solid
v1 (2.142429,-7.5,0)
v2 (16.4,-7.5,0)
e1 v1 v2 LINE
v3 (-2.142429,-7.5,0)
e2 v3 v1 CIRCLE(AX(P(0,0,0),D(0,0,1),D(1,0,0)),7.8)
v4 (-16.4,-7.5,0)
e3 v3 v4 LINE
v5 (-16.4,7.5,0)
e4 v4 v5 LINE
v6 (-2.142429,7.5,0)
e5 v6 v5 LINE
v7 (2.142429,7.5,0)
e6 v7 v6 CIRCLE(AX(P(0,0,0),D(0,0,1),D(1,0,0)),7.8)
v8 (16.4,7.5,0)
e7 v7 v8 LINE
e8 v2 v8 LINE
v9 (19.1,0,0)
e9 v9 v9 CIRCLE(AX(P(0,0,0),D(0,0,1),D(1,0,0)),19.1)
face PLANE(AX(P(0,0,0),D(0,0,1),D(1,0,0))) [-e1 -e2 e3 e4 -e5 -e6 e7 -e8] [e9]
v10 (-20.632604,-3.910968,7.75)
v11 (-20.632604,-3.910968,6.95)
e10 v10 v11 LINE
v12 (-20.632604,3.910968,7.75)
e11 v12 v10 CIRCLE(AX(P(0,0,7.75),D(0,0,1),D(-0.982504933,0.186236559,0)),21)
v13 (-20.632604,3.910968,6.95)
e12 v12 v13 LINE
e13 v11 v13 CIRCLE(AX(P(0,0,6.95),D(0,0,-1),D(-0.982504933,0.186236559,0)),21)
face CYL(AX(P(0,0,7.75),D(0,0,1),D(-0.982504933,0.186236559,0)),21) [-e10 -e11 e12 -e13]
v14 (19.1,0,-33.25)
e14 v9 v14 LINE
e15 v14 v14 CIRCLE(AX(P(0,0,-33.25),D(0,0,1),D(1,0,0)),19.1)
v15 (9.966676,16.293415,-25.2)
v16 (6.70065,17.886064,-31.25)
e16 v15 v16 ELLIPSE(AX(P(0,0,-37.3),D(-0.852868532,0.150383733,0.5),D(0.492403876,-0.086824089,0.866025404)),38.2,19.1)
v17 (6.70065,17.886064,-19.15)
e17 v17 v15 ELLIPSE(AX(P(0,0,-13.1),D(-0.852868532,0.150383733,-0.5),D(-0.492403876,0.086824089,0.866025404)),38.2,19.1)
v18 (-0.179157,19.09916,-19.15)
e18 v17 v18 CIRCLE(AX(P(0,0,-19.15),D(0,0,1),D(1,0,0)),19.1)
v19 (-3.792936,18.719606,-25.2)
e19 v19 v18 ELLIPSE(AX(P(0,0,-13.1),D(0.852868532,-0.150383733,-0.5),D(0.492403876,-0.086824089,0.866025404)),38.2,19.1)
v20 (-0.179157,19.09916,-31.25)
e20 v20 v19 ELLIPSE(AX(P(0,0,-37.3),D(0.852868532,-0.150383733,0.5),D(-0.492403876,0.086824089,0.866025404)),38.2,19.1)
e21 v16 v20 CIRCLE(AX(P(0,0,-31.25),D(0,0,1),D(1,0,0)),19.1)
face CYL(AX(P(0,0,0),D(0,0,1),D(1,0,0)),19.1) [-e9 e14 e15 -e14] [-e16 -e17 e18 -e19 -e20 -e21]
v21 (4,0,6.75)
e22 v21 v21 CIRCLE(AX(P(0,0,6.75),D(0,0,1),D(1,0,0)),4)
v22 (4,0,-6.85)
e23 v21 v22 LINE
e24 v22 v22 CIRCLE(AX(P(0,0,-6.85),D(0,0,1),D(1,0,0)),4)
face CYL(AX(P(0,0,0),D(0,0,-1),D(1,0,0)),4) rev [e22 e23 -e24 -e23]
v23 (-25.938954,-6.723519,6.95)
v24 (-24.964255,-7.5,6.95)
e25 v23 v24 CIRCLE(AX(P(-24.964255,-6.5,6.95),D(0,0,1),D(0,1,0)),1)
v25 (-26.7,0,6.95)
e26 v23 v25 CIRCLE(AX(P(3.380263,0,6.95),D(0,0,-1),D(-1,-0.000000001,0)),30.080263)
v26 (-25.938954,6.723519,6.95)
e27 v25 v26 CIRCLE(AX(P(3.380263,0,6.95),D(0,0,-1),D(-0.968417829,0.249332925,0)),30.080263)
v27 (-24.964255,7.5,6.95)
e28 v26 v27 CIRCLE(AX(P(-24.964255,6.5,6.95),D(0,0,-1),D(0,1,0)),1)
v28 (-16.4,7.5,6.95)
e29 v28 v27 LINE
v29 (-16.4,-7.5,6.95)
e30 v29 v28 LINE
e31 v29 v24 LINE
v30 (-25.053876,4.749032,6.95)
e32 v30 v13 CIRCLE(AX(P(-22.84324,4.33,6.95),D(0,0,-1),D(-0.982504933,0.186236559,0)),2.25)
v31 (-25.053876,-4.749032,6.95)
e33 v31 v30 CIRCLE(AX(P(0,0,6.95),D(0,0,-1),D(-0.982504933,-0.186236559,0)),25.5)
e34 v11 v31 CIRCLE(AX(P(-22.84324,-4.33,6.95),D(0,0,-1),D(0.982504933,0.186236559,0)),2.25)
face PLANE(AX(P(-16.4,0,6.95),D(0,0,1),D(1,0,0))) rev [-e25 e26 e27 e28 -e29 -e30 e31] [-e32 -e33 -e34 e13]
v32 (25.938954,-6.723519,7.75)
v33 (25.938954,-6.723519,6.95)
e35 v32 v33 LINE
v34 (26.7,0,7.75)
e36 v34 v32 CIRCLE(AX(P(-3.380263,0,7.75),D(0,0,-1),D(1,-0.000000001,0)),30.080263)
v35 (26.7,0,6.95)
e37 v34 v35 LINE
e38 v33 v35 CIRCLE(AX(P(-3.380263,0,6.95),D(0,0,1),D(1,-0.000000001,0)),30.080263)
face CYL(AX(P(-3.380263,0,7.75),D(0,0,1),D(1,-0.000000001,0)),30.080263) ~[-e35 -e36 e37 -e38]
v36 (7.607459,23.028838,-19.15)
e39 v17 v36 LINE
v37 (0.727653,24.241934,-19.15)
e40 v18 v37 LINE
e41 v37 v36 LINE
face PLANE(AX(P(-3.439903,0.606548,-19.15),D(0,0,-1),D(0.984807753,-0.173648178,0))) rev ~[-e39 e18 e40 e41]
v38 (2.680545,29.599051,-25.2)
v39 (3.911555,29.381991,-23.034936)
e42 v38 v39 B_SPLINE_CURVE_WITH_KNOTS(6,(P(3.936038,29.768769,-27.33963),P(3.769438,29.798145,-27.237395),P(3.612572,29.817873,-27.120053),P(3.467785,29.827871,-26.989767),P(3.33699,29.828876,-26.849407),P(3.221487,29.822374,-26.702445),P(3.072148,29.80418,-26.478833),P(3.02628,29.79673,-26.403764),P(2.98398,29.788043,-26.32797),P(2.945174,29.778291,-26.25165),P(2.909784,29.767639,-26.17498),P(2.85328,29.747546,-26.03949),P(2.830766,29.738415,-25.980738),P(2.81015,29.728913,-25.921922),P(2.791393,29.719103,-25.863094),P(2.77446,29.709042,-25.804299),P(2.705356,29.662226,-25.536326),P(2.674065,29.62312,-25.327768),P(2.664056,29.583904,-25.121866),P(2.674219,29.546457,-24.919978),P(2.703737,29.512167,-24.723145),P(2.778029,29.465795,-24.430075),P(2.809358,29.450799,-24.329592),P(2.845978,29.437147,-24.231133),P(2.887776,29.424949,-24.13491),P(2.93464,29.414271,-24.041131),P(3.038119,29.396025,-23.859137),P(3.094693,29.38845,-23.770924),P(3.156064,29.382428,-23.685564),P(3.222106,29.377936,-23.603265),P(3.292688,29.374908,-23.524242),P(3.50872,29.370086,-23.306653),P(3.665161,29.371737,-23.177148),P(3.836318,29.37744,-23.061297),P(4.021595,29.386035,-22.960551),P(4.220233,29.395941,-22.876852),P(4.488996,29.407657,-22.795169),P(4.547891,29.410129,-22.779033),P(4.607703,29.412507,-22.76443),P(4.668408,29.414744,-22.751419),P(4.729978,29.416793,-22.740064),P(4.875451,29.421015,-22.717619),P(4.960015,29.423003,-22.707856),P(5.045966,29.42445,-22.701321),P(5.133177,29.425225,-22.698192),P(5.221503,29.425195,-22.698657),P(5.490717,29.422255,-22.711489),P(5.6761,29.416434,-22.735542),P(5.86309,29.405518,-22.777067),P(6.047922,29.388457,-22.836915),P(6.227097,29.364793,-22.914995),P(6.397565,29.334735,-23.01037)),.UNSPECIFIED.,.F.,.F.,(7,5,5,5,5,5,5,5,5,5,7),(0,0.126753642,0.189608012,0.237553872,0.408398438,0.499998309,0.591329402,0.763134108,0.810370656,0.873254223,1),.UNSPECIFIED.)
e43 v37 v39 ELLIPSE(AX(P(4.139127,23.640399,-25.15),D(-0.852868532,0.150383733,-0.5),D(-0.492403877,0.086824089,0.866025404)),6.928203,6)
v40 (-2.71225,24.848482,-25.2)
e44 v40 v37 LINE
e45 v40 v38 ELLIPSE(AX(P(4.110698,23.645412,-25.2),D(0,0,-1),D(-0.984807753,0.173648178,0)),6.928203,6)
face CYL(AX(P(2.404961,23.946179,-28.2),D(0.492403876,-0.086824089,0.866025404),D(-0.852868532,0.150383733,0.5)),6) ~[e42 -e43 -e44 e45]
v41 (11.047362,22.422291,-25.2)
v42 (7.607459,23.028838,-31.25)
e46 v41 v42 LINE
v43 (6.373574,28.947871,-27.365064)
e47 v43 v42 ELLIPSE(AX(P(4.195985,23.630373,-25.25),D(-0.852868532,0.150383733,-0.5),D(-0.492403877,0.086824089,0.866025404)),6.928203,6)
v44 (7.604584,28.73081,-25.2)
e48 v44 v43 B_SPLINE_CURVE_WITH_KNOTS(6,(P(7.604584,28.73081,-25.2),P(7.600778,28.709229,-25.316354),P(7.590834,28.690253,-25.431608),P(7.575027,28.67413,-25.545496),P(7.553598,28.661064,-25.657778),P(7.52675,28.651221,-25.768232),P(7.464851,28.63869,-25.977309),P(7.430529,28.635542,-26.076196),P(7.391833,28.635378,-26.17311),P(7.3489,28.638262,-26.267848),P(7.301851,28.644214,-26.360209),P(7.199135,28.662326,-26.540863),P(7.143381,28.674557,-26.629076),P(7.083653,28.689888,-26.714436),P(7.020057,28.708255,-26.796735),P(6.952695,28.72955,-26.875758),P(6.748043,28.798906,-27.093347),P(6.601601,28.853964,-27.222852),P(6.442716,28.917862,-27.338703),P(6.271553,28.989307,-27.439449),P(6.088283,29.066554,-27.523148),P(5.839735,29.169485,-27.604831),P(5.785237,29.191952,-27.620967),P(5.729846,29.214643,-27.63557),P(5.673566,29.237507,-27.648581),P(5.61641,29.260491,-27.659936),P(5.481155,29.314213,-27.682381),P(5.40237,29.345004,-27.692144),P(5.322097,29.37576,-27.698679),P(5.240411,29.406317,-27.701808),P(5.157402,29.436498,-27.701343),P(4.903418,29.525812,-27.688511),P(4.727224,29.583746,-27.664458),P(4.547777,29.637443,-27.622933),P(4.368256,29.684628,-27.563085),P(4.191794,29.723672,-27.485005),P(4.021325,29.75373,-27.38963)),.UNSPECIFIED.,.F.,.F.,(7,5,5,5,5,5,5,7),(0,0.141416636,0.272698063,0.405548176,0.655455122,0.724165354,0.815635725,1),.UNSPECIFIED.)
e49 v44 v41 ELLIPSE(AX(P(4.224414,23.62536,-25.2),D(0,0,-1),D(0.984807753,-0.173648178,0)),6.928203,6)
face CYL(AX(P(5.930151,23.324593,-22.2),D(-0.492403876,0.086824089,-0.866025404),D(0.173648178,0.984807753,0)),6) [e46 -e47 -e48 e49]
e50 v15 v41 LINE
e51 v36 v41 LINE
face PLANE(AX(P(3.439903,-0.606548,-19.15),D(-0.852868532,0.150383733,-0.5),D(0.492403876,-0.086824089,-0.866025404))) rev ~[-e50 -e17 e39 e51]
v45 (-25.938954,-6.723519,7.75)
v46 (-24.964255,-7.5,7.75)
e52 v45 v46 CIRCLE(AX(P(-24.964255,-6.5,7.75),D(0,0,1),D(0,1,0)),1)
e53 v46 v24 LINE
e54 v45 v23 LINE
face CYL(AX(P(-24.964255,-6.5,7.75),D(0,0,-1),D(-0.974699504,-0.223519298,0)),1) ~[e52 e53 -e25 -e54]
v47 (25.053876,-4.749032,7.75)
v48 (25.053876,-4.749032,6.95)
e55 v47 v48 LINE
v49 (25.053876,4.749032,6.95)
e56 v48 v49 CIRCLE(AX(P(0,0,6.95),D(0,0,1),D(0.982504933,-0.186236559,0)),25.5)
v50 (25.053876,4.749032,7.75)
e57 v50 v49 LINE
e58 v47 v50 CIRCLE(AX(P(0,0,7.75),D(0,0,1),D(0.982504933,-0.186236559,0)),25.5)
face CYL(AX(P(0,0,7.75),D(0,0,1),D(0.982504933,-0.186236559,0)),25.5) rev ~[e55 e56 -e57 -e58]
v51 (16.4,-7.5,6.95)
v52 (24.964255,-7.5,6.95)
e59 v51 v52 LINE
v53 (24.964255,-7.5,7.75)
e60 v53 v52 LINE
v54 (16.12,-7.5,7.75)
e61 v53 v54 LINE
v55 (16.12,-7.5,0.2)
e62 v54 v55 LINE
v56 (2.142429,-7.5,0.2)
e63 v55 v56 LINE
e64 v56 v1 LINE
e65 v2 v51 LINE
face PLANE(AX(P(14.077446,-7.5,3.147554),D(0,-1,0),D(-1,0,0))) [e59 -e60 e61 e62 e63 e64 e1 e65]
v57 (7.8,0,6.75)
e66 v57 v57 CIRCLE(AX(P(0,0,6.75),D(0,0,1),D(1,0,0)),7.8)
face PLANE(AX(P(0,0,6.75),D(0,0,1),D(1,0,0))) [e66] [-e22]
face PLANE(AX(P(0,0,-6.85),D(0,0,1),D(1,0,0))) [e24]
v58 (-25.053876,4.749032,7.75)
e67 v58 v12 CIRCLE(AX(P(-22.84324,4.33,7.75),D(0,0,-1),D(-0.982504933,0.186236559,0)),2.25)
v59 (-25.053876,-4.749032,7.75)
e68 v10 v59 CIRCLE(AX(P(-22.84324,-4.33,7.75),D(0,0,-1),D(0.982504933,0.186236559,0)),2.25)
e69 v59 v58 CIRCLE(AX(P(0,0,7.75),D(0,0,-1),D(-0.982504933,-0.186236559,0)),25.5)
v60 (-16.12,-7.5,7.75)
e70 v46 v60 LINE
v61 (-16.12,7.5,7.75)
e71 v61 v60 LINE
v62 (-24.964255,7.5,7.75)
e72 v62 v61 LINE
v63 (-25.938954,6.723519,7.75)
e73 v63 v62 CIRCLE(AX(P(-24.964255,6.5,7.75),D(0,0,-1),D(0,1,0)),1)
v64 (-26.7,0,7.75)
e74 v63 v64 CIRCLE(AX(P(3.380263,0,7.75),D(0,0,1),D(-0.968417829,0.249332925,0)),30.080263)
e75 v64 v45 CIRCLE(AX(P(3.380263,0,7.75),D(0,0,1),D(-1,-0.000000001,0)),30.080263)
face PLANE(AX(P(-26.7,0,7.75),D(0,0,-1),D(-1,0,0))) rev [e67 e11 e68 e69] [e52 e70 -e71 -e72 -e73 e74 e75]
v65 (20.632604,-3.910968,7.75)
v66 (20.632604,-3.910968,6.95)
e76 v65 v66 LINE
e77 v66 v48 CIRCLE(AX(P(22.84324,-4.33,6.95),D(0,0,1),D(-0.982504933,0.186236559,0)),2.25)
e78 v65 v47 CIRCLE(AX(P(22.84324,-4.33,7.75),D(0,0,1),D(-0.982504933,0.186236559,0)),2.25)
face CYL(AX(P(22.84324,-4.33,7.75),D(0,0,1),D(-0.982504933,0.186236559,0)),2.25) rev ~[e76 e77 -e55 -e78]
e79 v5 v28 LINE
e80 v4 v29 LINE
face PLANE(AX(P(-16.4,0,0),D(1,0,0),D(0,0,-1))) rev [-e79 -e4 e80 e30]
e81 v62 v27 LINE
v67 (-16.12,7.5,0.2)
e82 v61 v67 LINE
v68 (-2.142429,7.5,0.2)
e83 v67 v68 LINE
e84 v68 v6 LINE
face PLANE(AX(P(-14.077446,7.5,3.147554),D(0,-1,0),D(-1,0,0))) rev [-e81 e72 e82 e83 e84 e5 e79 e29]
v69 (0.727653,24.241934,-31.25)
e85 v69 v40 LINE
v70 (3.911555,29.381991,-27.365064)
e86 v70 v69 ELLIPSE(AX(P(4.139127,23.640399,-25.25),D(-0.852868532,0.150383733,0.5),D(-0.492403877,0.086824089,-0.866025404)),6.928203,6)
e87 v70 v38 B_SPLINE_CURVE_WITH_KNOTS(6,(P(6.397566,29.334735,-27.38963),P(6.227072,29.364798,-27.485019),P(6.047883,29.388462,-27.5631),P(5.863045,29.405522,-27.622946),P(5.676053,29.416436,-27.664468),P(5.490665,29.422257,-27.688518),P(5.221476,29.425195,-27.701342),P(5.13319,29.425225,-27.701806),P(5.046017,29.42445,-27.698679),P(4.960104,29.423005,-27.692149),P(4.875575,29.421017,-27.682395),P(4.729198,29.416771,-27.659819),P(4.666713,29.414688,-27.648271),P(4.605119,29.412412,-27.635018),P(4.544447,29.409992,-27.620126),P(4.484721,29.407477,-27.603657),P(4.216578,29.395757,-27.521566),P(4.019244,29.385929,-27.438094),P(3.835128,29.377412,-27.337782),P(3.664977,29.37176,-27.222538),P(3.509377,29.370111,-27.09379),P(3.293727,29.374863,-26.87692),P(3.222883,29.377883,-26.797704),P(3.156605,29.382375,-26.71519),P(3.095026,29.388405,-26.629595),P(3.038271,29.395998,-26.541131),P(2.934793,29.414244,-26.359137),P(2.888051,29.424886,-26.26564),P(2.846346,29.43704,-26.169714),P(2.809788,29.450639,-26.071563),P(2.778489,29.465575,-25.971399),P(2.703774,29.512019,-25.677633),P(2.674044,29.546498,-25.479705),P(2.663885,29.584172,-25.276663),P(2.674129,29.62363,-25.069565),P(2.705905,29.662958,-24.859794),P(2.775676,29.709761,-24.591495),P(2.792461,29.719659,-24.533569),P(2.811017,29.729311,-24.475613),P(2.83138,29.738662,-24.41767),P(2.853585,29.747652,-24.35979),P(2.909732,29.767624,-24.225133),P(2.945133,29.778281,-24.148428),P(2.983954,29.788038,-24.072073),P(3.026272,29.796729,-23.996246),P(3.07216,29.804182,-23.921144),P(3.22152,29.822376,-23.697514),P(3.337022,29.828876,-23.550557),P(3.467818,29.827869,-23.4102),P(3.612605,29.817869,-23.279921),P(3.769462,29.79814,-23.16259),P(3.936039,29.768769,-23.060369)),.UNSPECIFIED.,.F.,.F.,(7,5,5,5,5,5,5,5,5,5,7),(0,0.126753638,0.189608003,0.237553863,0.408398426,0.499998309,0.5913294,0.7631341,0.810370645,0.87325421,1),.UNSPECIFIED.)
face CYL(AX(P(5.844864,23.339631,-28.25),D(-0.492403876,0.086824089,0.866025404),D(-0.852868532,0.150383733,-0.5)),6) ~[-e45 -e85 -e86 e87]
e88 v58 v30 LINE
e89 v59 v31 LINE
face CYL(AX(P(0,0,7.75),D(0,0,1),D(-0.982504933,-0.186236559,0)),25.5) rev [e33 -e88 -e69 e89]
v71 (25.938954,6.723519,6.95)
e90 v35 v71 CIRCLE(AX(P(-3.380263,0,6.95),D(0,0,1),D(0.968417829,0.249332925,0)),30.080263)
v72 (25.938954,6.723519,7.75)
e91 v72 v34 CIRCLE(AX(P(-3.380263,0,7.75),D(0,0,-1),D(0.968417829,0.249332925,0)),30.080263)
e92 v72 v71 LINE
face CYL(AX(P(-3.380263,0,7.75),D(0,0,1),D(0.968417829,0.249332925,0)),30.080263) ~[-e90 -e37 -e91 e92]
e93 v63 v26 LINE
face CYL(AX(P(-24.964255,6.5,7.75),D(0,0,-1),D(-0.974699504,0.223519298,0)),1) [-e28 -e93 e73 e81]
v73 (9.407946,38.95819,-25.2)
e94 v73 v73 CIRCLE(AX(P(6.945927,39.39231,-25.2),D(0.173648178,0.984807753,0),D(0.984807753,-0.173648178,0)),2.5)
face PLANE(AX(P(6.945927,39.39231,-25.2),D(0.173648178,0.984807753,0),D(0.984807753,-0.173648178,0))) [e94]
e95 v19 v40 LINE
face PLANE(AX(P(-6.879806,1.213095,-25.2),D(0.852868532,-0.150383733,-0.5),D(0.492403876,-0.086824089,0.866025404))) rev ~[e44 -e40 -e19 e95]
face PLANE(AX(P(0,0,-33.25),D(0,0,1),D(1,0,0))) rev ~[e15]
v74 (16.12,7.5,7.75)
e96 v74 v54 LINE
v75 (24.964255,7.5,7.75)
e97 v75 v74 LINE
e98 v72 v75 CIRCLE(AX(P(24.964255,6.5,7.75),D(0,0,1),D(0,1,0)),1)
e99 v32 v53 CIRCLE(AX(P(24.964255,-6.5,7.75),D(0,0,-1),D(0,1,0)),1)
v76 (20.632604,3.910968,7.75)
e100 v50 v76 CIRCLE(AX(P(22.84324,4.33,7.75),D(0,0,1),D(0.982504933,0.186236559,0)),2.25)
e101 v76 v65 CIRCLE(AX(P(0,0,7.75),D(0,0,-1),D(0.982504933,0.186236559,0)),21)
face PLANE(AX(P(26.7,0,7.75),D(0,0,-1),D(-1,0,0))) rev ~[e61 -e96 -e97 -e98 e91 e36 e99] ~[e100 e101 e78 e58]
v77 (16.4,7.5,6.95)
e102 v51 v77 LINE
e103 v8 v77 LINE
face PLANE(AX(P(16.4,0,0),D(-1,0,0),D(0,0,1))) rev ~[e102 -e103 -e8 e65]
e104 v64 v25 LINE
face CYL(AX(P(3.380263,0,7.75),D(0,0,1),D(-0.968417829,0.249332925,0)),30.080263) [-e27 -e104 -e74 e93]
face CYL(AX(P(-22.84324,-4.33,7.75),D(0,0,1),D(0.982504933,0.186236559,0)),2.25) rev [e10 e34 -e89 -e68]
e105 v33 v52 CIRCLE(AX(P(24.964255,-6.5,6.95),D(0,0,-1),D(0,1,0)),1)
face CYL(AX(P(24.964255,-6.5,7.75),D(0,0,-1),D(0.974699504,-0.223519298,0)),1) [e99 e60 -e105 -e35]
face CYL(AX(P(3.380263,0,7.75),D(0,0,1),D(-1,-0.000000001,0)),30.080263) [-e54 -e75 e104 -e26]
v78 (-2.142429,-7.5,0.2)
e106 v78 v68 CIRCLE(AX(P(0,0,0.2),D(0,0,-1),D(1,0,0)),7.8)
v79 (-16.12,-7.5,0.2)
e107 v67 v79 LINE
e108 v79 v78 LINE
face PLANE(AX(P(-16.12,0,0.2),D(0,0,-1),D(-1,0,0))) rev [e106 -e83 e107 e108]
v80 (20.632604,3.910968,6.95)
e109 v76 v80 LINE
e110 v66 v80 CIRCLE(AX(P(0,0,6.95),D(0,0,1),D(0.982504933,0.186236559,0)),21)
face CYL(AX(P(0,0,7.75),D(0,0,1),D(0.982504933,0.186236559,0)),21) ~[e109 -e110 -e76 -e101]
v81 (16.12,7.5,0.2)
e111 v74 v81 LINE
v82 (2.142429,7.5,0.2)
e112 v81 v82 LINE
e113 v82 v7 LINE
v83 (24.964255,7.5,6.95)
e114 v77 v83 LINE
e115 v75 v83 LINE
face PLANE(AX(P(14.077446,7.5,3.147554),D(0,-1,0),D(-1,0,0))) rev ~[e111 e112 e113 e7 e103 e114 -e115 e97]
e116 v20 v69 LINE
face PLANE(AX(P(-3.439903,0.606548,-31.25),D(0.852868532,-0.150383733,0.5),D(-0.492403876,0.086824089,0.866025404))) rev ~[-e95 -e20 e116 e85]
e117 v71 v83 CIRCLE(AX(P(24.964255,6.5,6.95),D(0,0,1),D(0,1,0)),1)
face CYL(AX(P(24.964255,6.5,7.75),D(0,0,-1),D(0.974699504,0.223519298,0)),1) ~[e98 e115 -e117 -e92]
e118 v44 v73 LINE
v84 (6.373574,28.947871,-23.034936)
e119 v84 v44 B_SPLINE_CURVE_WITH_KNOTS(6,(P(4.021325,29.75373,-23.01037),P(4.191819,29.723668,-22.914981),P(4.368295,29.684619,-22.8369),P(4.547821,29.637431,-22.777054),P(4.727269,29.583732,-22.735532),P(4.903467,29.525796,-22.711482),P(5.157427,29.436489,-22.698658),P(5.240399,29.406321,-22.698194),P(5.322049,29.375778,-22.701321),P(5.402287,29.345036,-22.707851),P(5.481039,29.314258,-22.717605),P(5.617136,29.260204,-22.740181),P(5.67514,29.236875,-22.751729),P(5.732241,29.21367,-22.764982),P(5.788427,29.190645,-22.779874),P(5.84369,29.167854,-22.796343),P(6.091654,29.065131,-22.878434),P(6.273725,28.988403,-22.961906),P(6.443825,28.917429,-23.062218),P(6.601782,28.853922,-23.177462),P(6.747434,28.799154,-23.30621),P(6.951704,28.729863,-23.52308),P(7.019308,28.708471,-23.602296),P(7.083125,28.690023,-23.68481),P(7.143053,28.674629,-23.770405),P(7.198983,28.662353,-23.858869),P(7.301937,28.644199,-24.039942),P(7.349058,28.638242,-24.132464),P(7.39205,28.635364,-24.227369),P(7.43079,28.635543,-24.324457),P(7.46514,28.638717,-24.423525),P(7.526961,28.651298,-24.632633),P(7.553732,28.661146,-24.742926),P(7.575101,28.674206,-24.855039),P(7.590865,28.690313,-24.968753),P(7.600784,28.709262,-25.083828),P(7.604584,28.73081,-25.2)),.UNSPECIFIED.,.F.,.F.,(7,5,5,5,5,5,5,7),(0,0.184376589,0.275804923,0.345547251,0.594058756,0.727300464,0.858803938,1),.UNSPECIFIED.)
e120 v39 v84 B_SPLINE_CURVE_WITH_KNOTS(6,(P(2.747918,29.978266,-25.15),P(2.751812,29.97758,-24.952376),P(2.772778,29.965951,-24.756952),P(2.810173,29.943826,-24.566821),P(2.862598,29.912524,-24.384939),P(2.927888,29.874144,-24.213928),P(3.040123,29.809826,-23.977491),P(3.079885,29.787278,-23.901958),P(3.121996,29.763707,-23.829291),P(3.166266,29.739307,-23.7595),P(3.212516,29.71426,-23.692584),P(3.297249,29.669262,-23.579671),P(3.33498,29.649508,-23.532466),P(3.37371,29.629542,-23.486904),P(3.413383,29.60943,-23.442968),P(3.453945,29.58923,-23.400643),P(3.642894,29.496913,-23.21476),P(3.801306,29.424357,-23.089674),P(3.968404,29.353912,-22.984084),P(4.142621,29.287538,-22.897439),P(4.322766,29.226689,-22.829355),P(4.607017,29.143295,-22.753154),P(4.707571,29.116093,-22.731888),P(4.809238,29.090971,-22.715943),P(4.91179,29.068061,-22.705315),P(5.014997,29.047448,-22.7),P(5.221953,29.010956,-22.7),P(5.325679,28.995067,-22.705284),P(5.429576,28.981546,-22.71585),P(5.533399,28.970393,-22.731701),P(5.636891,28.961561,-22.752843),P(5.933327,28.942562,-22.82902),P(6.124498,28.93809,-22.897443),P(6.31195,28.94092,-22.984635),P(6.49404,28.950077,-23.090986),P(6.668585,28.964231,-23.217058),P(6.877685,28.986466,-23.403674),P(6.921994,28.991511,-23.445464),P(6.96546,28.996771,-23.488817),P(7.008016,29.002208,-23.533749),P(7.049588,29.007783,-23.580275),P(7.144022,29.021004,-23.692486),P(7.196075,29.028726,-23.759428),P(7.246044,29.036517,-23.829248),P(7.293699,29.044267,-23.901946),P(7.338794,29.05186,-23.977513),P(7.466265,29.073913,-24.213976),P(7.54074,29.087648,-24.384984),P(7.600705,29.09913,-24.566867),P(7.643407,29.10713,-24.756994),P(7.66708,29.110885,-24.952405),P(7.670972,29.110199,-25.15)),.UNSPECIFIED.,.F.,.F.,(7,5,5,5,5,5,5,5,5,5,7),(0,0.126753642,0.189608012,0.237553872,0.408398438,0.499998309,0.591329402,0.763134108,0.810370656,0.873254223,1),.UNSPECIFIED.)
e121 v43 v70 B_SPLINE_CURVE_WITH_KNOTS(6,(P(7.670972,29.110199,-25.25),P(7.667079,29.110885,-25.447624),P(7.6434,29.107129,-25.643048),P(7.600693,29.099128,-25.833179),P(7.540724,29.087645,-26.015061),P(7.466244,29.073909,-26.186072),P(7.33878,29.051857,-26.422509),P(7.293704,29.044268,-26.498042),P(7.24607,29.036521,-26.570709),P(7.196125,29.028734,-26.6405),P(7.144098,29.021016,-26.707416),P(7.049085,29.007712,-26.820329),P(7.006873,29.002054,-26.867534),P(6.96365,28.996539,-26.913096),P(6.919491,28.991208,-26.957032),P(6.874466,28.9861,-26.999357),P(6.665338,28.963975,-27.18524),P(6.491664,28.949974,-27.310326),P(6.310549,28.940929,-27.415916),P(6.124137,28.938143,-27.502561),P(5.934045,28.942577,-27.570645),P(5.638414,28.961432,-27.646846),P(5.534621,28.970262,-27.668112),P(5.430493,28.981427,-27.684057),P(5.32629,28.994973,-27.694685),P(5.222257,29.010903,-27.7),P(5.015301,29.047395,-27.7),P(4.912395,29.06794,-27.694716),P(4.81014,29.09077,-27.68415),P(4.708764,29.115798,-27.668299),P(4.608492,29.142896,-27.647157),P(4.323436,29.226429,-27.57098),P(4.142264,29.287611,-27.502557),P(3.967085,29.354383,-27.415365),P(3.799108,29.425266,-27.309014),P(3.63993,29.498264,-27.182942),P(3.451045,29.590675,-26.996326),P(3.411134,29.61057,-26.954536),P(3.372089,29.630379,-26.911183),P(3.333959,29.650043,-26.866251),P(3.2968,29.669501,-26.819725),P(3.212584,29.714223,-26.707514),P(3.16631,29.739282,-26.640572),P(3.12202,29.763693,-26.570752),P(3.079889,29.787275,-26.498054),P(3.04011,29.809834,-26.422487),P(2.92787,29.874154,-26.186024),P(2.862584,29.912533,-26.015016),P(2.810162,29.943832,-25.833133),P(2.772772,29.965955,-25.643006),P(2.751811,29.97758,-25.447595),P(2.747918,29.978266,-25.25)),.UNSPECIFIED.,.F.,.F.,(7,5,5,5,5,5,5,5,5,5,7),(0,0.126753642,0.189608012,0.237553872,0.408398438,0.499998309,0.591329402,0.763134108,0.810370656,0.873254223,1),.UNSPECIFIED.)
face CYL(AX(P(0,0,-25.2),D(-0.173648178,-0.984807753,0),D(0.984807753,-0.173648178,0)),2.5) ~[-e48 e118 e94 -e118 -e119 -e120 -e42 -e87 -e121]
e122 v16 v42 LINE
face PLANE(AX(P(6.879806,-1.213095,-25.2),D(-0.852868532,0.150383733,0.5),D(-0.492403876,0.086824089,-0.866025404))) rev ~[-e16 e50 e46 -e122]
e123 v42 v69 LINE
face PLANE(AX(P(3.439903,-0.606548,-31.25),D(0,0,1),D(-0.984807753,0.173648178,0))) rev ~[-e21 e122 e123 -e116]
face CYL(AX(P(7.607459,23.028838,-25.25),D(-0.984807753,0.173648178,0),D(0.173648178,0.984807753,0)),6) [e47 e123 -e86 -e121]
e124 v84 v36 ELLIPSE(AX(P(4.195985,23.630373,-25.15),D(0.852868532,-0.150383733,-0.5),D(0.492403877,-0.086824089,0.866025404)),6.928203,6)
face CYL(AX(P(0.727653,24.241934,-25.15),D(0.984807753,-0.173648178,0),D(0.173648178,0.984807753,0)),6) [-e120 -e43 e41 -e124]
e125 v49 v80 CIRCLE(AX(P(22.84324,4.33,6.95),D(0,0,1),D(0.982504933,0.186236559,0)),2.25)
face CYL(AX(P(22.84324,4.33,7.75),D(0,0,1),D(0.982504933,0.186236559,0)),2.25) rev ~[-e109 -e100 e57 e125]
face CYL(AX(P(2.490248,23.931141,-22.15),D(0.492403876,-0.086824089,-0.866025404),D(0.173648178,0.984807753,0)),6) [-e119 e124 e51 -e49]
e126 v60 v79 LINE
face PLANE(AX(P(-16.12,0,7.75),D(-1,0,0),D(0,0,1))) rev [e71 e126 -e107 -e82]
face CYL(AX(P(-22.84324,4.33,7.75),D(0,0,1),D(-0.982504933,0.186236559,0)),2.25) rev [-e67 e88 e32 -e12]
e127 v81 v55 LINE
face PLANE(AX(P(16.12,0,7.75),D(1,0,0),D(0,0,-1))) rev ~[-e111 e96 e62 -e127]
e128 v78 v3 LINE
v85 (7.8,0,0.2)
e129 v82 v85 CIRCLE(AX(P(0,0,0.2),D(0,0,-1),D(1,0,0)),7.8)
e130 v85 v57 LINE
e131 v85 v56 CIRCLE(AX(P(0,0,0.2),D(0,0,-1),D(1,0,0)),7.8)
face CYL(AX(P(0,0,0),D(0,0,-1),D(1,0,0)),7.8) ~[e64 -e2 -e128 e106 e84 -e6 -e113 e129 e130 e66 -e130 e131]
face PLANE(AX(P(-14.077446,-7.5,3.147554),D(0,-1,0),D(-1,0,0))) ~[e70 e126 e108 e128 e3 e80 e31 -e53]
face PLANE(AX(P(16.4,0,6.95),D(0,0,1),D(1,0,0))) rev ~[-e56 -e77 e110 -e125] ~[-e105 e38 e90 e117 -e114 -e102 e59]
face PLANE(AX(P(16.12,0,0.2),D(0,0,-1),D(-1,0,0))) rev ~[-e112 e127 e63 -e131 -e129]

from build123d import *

# Parameters (mm, degrees)
SKETCH1_R            = 19.1
BOSS_EXTRUDE1_DEPTH  = 33.25
SKETCH2_R            = 7.8
SKETCH2_R_2          = 4
BOSS_EXTRUDE2_DEPTH  = 6.75
BOSS_EXTRUDE4_DEPTH  = 7.5
CUT_EXTRUDE1_REACH   = 54.523
FILLET1_R            = 1
FILLET1_OF_MIRROR2_R = 1
CUT_EXTRUDE2_START   = -6.85
SKETCH2_3_R          = 4
CUT_EXTRUDE2_DEPTH   = 13.6
BOSS_EXTRUDE5_DEPTH  = 30
FILLET2_R            = 6
SKETCH6_R            = 2.5
BOSS_EXTRUDE6_DEPTH  = 40


with BuildPart() as part:
    # Sketch1 → Boss-Extrude1 (new body)
    with BuildSketch(Plane.XY):
        Circle(SKETCH1_R)
    extrude(amount=-BOSS_EXTRUDE1_DEPTH)

    # Sketch2 → Boss-Extrude2 (add)
    with BuildSketch(Plane.XY):
        Circle(SKETCH2_R)
        Circle(SKETCH2_R_2, mode=Mode.SUBTRACT)
    extrude(amount=BOSS_EXTRUDE2_DEPTH)

    # Sketch3 → Boss-Extrude4 (add, symmetric)
    with BuildSketch(Plane(origin=(0, 0, 0), x_dir=(1, 0, 0), z_dir=(0, 1, 0))):
        Polygon((26.7, -6.95), (26.7, -7.75), (16.12, -7.75), (16.12, -0.2), (0, -0.2), (0, 0), (16.4, 0), (16.4, -6.95), align=None)
    boss_extrude4 = extrude(amount=BOSS_EXTRUDE4_DEPTH, both=True)

    # Sketch4 → Cut-Extrude1 (cut, up to next)
    with BuildSketch(Plane.XY.offset(7.75), mode=Mode.PRIVATE) as cut_extrude1_sk1:
        with BuildLine():
            ThreePointArc((25.0538758, -4.749032258), (25.5, 0), (25.0538758, 4.749032258))
            ThreePointArc((25.0538758, 4.749032258), (22.424207442, 6.5406361), (20.6326036, 3.910967742))
            ThreePointArc((20.6326036, 3.910967742), (21, 0), (20.6326036, -3.910967742))
            ThreePointArc((20.6326036, -3.910967742), (22.424207442, -6.5406361), (25.0538758, -4.749032258))
        make_face()
    cut_extrude1_tool1 = extrude(cut_extrude1_sk1.sketch, amount=-CUT_EXTRUDE1_REACH, mode=Mode.PRIVATE) & part.part
    # Sketch4 → Cut-Extrude1 (cut, up to next)
    with BuildSketch(Plane.XY.offset(7.75), mode=Mode.PRIVATE) as cut_extrude1_sk2:
        with BuildLine():
            ThreePointArc((26.7, -1.8e-08), (26.461554926, -3.779963633), (25.75, -7.5))
            Line((25.75, -7.5), (26.7, -7.5))
            Line((26.7, -7.5), (26.7, -1.8e-08))
        make_face()
    cut_extrude1_tool2 = extrude(cut_extrude1_sk2.sketch, amount=-CUT_EXTRUDE1_REACH, mode=Mode.PRIVATE) & part.part
    # Sketch4 → Cut-Extrude1 (cut, up to next)
    with BuildSketch(Plane.XY.offset(7.75), mode=Mode.PRIVATE) as cut_extrude1_sk3:
        with BuildLine():
            ThreePointArc((25.75, 7.5), (26.461554929, 3.779963615), (26.7, -1.8e-08))
            Line((26.7, -1.8e-08), (26.7, 7.5))
            Line((26.7, 7.5), (25.75, 7.5))
        make_face()
    cut_extrude1_tool3 = extrude(cut_extrude1_sk3.sketch, amount=-CUT_EXTRUDE1_REACH, mode=Mode.PRIVATE) & part.part
    cut_extrude1_1 = cut_extrude1_tool1.solids().sort_by_distance((23.036032, 0, 7.75))[0]
    add(cut_extrude1_1, mode=Mode.SUBTRACT)
    cut_extrude1_2 = cut_extrude1_tool2.solids().sort_by_distance((26.415788, -5.630973, 7.75))[0]
    add(cut_extrude1_2, mode=Mode.SUBTRACT)
    cut_extrude1_3 = cut_extrude1_tool3.solids().sort_by_distance((26.415788, 5.630973, 7.75))[0]
    add(cut_extrude1_3, mode=Mode.SUBTRACT)
    cut_extrude1 = cut_extrude1_1 + cut_extrude1_2 + cut_extrude1_3  # Cut-Extrude1 as one shape, for the pattern or mirror that repeats it

    # Fillet1
    fillet1_edges = [part.edges().sort_by_distance(p)[0] for p in [
        (25.75, -7.5, 7.35),
        (25.75, 7.5, 7.35),
    ]]
    fillet(fillet1_edges, radius=FILLET1_R)

    # Mirror2: Boss-Extrude4, Cut-Extrude1 across plane
    add(boss_extrude4.mirror(Plane(origin=(0, 0, 0), x_dir=(0, 0, 1), z_dir=(1, 0, 0))))
    add(cut_extrude1.mirror(Plane(origin=(0, 0, 0), x_dir=(0, 0, 1), z_dir=(1, 0, 0))), mode=Mode.SUBTRACT)

    # Fillet1 of Mirror2
    fillet1_of_mirror2_edges = [part.edges().sort_by_distance(p)[0] for p in [
        (-25.75, -7.5, 7.35),
        (-25.75, 7.5, 7.35),
    ]]
    fillet(fillet1_of_mirror2_edges, radius=FILLET1_OF_MIRROR2_R)

    # Sketch2<3> → Cut-Extrude2 (cut)
    with BuildSketch(Plane.XY.offset(CUT_EXTRUDE2_START)):
        Circle(SKETCH2_3_R)
    extrude(amount=CUT_EXTRUDE2_DEPTH, mode=Mode.SUBTRACT)

    # Sketch5 → Boss-Extrude5 (add)
    with BuildSketch(Plane(origin=(0, 0, 0), x_dir=(0, 0, 1), z_dir=(0.17364817766693072, 0.984807753012208, 0))):
        Polygon((-31.25, -3.492969129), (-25.2, -6.985938257), (-19.15, -3.492969129), (-19.15, 3.492969129), (-25.2, 6.985938257), (-31.25, 3.492969129), align=None)
    extrude(amount=BOSS_EXTRUDE5_DEPTH)

    # Fillet2
    fillet2_edges = [part.edges().sort_by_distance(p)[0] for p in [
        (5.20944533, 29.54423259, -31.25),
        (0.049590712, 30.454054176, -28.225),
        (0.049590712, 30.454054176, -22.175),
        (5.20944533, 29.54423259, -19.15),
        (10.369299948, 28.634411005, -22.175),
        (10.369299948, 28.634411005, -28.225),
    ]]
    fillet(fillet2_edges, radius=FILLET2_R)

    # Sketch6 → Boss-Extrude6 (add)
    with BuildSketch(Plane(origin=(0, 0, 0), x_dir=(0, 0, 1), z_dir=(0.17364817766693072, 0.984807753012208, 0))):
        with Locations(Location((-25.2, 0, 0), (0, 0, 90))):
            Circle(SKETCH6_R)
    extrude(amount=BOSS_EXTRUDE6_DEPTH)


solid = part.part
